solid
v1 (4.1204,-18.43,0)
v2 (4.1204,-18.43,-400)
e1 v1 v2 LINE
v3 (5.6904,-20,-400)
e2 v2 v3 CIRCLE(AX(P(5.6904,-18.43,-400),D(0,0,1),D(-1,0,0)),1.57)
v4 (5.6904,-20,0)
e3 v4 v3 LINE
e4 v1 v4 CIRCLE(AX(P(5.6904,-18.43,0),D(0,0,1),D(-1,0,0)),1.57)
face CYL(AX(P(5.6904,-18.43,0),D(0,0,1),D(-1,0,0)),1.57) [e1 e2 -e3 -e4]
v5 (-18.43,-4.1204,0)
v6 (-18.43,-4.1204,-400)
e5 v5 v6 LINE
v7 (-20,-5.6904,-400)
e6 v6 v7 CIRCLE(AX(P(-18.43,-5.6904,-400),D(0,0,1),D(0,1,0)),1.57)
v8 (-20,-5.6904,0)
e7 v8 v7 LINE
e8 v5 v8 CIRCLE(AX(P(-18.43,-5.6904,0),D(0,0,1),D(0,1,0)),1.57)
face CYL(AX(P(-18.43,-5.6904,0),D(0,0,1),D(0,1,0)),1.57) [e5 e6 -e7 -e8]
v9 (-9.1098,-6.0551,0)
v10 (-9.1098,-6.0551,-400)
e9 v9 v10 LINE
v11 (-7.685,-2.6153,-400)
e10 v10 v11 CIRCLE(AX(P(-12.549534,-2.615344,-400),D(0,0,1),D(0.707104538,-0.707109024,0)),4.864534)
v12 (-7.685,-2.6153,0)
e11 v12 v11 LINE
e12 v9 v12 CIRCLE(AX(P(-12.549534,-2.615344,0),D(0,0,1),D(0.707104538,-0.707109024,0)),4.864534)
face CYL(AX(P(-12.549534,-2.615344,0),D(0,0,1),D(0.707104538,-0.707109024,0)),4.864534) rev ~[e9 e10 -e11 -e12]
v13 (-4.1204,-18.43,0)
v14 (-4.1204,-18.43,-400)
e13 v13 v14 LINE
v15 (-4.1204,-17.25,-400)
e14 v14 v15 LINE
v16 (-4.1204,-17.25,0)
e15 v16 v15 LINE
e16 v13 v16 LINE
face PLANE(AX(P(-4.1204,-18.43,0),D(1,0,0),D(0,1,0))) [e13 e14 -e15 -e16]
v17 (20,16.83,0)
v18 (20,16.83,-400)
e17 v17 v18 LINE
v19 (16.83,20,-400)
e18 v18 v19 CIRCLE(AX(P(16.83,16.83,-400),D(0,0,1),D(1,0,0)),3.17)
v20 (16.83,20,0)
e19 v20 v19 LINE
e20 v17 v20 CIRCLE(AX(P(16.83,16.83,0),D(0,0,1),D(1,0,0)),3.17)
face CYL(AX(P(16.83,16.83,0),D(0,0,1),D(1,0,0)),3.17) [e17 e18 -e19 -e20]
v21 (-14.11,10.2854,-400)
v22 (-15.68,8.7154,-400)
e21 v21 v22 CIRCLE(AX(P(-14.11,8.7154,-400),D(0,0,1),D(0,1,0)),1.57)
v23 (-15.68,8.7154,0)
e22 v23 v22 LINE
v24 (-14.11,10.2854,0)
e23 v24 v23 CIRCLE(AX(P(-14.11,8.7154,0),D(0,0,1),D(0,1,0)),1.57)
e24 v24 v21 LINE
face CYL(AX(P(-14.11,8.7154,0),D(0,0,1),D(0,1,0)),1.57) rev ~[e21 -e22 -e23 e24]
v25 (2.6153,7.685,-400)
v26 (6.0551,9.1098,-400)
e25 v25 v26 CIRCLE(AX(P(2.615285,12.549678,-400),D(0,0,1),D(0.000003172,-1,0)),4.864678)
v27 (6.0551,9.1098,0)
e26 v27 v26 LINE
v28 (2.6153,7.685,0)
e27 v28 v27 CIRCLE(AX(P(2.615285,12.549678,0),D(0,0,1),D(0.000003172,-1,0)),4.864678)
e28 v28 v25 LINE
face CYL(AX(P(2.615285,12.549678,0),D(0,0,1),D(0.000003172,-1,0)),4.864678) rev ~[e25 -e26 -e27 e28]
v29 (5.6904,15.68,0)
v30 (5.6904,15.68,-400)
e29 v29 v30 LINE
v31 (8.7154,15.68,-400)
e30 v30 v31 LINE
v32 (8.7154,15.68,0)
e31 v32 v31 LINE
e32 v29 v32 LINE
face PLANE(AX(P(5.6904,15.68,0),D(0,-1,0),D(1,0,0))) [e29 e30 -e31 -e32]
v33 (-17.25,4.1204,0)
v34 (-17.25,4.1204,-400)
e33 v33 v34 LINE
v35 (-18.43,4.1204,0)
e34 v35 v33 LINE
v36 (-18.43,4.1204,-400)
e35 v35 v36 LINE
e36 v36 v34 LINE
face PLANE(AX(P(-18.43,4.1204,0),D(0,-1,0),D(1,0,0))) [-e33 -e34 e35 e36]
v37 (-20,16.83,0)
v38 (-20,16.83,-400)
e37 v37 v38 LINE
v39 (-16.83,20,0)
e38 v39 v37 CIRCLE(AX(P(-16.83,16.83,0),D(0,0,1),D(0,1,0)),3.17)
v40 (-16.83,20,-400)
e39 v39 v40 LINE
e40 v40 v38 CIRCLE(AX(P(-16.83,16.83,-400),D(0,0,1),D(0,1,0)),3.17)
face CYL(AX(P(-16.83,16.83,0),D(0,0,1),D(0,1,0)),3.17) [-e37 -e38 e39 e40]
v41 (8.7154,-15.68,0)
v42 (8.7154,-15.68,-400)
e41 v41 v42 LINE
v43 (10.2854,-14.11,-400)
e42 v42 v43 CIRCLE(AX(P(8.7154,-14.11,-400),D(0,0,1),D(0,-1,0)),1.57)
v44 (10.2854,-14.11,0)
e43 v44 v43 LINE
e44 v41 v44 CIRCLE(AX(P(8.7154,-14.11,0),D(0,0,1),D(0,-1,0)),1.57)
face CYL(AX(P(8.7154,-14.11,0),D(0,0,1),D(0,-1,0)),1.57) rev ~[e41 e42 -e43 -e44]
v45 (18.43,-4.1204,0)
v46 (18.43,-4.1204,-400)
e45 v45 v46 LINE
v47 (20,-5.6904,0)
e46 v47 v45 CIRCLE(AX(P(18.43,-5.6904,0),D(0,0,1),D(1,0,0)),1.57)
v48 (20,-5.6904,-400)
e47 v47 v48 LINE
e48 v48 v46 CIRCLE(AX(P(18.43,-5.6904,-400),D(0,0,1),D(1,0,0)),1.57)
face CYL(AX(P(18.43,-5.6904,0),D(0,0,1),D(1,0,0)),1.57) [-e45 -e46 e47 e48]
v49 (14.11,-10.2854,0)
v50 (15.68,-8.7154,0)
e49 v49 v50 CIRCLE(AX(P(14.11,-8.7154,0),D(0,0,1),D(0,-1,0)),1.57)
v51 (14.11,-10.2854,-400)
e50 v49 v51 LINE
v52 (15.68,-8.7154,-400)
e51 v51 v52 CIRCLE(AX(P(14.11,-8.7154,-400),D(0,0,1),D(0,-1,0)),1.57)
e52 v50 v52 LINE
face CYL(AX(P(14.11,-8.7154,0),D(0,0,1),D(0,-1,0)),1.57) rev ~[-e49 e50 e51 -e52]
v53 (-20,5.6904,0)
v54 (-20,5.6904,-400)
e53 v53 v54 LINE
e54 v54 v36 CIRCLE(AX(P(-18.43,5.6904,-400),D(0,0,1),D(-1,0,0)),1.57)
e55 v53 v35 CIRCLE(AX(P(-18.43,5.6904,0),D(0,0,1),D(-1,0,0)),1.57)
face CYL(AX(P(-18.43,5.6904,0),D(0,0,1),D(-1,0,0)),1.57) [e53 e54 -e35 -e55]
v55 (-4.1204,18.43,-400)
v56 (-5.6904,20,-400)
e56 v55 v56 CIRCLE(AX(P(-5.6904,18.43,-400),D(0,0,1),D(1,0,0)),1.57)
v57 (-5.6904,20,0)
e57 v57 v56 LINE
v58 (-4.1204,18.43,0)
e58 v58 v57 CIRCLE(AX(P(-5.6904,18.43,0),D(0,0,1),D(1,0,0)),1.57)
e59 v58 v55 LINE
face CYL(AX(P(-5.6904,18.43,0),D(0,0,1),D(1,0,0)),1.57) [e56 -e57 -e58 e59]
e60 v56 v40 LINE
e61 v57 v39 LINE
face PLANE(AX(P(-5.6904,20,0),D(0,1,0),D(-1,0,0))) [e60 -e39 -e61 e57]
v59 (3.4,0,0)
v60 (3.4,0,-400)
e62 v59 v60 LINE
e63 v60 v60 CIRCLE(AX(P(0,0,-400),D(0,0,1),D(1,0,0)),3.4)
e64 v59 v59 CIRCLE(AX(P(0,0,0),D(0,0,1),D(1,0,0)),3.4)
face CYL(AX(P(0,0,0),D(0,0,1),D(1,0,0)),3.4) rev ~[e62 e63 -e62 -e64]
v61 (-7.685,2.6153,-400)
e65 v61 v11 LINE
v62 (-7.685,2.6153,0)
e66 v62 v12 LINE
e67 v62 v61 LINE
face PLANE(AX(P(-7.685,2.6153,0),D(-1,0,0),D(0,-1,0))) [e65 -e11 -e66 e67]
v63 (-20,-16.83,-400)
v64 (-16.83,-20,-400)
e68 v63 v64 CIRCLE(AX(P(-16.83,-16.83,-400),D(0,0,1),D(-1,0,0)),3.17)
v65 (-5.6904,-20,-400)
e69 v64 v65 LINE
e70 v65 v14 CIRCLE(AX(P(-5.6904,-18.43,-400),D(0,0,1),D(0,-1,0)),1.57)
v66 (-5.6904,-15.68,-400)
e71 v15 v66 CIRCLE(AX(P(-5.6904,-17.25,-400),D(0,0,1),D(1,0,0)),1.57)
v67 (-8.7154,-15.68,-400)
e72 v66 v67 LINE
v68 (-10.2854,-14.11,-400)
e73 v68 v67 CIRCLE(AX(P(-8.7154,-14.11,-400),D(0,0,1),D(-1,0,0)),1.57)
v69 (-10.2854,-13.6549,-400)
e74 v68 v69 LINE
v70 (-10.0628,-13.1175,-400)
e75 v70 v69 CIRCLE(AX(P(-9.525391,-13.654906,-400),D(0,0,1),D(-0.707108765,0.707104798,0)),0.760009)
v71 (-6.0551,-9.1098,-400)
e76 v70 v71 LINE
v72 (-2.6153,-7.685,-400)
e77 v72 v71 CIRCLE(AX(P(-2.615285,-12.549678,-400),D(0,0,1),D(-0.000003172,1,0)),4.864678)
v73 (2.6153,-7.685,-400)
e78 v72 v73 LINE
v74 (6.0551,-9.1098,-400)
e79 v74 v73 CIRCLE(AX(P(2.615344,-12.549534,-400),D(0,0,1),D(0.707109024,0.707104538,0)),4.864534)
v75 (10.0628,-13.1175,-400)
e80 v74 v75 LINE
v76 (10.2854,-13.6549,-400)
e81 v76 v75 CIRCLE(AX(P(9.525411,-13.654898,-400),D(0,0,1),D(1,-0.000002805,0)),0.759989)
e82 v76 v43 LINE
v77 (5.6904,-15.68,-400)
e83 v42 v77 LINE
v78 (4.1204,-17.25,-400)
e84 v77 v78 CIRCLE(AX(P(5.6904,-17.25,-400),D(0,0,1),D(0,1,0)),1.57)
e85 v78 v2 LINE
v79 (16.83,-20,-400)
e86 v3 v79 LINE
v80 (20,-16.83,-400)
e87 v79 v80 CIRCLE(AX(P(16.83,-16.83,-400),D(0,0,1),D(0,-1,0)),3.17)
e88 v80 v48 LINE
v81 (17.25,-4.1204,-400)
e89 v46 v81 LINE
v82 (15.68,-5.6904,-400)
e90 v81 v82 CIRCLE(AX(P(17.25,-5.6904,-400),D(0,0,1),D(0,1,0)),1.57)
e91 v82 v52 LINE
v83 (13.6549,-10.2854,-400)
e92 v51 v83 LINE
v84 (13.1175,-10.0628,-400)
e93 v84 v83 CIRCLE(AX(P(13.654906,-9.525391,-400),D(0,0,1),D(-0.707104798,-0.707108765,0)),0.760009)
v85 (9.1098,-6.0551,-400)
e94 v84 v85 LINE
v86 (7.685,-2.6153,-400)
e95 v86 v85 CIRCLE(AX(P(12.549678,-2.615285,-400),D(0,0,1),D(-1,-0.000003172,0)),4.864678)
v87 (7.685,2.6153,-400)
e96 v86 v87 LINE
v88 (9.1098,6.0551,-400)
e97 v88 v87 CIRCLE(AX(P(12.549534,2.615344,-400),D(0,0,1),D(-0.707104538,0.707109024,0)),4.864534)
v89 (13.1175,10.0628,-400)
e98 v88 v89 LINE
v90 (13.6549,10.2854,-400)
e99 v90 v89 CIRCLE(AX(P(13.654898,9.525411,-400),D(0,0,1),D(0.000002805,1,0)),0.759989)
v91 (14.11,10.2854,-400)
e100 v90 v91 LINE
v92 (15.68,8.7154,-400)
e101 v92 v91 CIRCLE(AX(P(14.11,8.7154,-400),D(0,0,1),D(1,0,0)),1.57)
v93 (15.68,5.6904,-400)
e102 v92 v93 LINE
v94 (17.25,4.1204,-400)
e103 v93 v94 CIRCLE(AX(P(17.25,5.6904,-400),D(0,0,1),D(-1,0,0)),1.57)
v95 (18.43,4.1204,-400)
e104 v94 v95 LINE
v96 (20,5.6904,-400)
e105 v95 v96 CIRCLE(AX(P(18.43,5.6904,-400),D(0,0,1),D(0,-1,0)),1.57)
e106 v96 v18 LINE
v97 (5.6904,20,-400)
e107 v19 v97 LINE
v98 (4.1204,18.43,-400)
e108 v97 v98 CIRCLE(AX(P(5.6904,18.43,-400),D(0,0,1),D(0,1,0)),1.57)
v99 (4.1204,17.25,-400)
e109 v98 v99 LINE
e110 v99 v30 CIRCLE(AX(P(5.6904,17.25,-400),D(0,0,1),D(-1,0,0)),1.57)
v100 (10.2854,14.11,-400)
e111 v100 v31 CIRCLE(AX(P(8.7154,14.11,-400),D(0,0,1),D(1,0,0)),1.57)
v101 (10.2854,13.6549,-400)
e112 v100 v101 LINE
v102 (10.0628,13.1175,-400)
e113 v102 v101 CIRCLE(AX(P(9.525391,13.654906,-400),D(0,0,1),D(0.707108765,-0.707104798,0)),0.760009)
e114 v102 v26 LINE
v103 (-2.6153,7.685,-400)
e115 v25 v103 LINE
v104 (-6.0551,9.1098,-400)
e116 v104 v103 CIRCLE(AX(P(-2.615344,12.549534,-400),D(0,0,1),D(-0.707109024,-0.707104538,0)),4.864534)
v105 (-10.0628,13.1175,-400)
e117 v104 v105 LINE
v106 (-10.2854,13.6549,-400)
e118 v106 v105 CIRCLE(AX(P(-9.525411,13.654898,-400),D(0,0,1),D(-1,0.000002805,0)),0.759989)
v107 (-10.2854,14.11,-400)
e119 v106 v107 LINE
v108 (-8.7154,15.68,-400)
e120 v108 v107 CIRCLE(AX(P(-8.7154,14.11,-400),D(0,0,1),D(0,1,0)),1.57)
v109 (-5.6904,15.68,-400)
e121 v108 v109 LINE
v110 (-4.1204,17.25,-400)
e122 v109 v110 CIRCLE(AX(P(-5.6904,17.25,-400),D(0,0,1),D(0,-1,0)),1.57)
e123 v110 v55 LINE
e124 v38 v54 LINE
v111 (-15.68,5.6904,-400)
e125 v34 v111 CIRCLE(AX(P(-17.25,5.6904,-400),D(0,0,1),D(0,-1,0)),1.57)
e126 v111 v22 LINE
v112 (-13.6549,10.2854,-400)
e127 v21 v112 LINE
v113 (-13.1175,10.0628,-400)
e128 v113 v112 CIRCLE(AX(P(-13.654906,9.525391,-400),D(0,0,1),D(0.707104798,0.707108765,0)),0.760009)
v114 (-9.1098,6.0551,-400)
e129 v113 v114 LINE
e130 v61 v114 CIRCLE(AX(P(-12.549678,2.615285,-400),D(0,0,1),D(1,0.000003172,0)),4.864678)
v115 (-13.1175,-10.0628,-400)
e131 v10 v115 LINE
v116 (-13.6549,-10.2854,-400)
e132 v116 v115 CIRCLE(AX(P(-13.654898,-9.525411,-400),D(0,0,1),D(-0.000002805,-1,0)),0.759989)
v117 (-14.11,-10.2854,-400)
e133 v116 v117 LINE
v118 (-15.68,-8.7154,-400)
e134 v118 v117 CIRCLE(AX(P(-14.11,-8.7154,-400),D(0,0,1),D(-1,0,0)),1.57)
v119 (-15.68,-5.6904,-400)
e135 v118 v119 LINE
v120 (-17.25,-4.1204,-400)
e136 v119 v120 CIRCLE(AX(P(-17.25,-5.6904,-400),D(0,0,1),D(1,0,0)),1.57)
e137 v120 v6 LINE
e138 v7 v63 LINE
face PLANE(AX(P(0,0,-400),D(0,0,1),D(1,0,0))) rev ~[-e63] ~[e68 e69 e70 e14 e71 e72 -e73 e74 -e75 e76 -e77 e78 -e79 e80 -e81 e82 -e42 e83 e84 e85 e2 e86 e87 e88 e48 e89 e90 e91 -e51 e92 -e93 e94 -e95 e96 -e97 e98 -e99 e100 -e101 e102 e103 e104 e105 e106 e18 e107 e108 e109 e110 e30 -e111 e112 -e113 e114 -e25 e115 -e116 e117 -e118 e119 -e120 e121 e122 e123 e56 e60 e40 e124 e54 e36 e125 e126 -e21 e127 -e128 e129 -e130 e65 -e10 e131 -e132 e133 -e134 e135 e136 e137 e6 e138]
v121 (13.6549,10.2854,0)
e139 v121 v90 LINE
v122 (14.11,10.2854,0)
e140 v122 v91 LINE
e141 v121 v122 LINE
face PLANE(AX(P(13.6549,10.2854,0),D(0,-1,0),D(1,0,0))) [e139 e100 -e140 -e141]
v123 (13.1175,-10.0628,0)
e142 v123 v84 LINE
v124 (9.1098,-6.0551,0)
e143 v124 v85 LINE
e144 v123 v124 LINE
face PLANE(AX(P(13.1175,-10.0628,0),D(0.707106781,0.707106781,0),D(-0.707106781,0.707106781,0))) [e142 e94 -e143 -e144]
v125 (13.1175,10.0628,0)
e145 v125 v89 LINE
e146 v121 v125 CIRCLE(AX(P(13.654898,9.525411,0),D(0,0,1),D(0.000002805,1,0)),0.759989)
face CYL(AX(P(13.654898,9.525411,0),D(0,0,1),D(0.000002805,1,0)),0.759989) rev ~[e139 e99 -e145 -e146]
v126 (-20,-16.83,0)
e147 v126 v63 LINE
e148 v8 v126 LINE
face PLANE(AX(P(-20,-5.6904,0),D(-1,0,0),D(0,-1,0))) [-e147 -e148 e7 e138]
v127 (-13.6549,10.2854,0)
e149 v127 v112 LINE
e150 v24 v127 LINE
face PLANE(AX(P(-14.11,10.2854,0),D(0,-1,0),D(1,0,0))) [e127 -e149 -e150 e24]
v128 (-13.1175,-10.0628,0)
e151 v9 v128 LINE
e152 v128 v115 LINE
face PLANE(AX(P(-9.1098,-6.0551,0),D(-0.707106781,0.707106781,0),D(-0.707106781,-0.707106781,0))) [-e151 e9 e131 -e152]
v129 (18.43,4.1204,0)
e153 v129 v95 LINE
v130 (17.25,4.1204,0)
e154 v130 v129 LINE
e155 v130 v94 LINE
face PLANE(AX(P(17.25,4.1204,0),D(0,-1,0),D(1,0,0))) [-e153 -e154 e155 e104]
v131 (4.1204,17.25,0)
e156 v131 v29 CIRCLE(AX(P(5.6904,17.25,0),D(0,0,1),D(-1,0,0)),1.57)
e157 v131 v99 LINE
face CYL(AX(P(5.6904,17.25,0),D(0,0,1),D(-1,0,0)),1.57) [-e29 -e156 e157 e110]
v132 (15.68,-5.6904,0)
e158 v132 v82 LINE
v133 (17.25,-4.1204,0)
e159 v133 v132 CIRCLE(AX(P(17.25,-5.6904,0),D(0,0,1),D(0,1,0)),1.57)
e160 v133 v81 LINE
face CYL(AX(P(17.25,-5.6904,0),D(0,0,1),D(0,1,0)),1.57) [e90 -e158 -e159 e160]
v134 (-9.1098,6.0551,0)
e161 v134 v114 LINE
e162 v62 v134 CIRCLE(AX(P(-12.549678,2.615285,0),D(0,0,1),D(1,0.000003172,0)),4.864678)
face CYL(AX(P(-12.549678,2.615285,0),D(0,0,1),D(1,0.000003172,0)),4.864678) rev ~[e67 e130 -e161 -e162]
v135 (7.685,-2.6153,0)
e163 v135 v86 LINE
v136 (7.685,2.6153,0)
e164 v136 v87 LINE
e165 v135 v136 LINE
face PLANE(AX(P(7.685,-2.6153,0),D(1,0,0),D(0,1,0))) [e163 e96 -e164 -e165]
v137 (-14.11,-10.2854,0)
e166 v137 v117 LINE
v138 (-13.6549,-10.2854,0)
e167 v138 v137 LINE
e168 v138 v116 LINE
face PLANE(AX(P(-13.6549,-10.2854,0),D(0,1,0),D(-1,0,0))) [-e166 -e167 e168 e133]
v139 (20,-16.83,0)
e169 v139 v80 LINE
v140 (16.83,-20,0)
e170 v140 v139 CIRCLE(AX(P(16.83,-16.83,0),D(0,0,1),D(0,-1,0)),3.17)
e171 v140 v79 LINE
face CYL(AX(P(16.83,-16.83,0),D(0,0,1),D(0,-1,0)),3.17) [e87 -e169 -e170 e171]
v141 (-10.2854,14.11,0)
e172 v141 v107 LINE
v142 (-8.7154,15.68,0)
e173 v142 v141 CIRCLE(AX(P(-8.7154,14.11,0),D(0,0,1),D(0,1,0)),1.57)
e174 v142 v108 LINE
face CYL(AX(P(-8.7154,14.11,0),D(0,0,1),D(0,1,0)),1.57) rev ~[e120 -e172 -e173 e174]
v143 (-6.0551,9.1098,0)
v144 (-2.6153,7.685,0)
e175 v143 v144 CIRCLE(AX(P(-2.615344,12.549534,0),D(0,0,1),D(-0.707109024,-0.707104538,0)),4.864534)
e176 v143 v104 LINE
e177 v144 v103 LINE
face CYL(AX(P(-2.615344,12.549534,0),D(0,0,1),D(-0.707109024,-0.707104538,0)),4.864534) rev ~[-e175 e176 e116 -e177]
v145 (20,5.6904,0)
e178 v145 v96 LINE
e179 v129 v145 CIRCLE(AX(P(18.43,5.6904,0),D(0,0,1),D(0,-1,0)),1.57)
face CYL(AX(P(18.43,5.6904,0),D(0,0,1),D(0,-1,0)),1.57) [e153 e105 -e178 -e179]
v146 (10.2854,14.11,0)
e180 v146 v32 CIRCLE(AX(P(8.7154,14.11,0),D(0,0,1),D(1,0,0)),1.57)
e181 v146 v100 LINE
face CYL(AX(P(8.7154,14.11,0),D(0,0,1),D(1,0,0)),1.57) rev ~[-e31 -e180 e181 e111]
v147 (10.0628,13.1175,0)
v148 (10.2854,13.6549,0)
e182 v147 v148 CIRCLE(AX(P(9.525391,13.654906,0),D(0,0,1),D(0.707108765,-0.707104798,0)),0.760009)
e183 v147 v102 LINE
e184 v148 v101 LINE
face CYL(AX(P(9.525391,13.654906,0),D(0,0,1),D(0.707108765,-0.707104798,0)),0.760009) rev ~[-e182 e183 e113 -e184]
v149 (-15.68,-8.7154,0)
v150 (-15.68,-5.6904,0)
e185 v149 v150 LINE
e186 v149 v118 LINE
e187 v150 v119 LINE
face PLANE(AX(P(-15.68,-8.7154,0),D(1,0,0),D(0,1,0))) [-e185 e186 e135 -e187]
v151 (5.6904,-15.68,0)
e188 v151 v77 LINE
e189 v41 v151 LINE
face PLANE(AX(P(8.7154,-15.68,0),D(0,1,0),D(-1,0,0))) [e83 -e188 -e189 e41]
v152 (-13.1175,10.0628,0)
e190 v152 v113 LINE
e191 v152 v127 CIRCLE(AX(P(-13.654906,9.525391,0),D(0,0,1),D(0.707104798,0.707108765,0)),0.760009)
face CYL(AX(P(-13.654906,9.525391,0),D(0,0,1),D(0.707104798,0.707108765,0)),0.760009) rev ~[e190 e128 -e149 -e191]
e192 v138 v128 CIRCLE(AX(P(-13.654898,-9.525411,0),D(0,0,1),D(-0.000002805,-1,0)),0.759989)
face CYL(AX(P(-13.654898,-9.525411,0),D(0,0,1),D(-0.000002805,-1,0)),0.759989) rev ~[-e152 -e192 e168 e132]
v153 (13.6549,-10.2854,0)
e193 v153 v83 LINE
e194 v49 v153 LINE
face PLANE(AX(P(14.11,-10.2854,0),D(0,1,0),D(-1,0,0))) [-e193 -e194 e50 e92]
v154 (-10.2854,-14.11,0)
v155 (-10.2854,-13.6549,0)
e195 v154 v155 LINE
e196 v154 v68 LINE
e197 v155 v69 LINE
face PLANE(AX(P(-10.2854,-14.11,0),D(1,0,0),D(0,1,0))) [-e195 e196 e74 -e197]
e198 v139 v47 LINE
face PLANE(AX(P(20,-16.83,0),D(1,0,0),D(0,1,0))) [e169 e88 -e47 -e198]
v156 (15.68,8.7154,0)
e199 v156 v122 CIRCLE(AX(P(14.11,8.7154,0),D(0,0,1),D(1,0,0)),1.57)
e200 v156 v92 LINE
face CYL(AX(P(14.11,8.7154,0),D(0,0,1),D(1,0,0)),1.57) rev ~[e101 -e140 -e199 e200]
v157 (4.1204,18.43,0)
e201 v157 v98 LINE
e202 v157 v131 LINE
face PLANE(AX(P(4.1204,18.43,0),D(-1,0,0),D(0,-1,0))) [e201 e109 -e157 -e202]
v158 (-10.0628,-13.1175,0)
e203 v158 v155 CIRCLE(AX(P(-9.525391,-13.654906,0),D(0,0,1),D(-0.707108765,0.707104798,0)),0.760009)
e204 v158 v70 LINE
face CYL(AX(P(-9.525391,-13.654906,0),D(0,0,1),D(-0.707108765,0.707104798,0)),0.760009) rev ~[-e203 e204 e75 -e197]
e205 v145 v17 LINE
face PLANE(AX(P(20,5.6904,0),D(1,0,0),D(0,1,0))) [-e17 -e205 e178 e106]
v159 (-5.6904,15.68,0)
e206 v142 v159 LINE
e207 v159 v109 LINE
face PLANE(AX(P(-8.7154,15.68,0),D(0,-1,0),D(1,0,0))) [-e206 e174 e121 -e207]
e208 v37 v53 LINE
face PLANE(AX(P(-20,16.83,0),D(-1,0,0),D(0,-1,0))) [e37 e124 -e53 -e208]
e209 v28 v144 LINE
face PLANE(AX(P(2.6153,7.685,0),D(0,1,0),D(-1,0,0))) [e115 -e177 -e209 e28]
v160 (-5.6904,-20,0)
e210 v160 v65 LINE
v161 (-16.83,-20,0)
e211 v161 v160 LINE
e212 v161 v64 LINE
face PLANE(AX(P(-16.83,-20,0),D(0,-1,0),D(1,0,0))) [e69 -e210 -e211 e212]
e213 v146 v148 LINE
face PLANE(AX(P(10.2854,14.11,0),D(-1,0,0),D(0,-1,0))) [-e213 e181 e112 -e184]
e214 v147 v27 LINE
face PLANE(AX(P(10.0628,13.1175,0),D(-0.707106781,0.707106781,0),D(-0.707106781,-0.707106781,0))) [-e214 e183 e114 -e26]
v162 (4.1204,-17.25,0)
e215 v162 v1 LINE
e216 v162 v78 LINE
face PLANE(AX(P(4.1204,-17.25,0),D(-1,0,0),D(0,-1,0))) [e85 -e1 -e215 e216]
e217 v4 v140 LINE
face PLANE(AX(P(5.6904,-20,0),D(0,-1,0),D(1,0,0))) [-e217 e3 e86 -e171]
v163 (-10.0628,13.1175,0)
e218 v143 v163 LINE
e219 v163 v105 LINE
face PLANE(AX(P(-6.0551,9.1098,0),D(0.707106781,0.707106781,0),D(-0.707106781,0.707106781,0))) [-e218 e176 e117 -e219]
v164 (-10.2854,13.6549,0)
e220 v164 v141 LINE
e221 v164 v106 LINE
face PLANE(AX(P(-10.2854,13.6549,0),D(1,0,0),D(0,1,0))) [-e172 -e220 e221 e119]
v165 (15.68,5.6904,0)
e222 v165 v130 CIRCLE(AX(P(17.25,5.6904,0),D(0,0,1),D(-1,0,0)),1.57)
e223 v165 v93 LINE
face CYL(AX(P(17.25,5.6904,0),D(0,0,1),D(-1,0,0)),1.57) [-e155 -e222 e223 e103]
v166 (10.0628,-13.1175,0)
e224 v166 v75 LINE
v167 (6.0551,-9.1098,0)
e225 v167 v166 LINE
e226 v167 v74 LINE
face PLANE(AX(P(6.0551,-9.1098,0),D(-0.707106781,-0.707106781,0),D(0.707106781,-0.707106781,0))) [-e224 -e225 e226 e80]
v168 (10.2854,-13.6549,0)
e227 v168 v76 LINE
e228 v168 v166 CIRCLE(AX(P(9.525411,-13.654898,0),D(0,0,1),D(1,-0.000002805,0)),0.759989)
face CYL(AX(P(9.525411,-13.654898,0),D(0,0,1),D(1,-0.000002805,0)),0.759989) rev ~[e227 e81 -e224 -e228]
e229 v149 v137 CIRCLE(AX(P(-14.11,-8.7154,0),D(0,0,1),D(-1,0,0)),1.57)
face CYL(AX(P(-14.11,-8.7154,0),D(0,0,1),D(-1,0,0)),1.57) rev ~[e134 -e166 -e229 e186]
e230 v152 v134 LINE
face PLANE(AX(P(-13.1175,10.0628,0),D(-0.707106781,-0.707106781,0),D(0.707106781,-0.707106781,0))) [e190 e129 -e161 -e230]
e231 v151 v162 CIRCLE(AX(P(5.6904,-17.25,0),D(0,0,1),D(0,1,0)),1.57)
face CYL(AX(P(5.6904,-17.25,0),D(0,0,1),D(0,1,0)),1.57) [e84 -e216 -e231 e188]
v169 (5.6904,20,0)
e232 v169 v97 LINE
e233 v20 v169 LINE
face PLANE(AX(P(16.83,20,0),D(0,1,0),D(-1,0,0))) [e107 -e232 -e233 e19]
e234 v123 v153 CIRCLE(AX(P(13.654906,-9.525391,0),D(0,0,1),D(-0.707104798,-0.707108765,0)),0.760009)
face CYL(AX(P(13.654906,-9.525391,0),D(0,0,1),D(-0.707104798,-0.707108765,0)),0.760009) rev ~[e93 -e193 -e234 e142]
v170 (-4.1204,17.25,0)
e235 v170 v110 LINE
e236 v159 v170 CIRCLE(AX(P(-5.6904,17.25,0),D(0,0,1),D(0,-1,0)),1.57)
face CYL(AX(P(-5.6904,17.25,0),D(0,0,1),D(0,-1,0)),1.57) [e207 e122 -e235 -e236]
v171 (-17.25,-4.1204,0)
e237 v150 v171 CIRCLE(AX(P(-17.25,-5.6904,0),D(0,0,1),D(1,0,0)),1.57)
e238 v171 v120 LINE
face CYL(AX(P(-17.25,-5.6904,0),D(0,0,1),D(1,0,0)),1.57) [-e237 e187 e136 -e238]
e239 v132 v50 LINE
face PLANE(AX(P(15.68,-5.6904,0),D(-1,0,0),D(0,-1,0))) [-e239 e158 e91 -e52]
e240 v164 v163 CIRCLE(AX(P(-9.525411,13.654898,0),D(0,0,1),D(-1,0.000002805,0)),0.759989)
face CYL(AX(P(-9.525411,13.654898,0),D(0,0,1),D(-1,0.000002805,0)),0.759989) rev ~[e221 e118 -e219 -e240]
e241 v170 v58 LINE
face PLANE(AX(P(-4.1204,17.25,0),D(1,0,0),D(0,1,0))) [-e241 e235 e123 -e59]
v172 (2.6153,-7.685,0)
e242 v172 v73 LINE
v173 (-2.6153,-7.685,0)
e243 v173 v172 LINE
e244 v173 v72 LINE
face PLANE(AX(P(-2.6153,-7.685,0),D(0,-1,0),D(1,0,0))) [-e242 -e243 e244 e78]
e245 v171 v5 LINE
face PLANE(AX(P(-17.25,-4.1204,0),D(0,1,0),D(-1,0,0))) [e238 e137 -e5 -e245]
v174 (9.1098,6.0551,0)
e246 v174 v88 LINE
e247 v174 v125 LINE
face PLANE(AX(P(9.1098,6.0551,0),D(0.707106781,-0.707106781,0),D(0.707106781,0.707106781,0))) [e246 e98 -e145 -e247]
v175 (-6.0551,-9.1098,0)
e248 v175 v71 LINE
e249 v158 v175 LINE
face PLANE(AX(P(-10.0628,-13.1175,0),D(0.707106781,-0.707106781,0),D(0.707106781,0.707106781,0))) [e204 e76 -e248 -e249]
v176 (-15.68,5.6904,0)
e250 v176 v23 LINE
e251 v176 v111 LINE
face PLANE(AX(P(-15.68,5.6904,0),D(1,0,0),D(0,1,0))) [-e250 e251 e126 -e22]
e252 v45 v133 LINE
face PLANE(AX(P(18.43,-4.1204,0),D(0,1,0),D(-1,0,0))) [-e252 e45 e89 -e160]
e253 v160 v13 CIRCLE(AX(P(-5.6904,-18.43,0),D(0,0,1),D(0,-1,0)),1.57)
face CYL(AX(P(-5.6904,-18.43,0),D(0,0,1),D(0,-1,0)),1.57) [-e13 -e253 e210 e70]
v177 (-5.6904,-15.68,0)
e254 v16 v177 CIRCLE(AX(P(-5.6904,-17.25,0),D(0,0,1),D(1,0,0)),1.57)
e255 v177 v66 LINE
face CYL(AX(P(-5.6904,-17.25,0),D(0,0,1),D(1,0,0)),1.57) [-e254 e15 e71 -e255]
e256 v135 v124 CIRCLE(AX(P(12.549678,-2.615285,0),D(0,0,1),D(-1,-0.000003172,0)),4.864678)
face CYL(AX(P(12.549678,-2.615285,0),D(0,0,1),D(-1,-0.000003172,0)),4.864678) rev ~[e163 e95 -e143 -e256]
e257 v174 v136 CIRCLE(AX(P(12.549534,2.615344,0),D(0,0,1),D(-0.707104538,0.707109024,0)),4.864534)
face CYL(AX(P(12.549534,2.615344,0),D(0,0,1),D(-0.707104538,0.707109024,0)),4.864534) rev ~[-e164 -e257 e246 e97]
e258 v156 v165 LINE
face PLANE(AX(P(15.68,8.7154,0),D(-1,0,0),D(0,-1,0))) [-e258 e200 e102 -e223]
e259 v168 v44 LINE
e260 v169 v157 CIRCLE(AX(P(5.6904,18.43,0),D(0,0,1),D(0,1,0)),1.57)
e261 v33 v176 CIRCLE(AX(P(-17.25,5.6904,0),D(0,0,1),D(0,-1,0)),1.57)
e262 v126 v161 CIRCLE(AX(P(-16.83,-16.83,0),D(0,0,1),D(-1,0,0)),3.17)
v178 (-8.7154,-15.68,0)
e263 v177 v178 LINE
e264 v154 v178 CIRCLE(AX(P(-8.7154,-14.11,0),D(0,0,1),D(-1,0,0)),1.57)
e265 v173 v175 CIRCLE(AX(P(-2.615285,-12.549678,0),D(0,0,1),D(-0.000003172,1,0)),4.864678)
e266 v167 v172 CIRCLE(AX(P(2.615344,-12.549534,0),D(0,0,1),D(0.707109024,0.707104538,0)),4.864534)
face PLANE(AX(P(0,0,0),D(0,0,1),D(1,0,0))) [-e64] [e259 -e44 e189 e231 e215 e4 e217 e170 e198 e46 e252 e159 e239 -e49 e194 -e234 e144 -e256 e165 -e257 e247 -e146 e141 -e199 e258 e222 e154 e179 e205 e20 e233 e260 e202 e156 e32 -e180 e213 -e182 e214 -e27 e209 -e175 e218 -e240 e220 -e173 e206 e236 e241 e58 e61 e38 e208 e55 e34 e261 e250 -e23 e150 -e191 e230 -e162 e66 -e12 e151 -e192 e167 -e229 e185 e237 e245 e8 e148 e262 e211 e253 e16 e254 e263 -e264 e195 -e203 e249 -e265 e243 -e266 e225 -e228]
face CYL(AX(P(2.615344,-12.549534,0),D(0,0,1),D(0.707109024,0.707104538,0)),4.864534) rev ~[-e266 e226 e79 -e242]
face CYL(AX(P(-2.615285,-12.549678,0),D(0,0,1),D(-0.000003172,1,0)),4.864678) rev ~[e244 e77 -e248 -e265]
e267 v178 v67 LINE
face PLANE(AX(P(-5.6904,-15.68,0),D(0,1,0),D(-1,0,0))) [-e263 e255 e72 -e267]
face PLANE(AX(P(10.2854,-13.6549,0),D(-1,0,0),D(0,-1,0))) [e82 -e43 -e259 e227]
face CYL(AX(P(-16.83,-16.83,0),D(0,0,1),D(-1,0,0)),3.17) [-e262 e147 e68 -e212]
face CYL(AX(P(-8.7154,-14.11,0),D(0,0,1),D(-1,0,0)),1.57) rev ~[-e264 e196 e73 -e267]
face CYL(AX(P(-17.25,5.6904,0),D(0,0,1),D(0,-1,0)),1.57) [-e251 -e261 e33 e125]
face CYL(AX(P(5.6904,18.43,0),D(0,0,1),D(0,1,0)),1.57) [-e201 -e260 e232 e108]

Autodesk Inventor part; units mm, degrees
sketch "Sketch_1" plane through (0, 0, 0) normal (0, 0, 1) x (1, 0, 0)
  line L0 (-20, 16.83) -> (-20, 5.6904)
  arc A0 (-20, 5.6904) -> (-18.43, 4.1204) centre (-18.43, 5.6904) ccw
  line L1 (-18.43, 4.1204) -> (-17.25, 4.1204)
  arc A1 (-17.25, 4.1204) -> (-15.68, 5.6904) centre (-17.25, 5.6904) ccw
  line L2 (-15.68, 5.6904) -> (-15.68, 8.7154)
  arc A2 (-14.11, 10.2854) -> (-15.68, 8.7154) centre (-14.11, 8.7154) ccw
  line L3 (-14.11, 10.2854) -> (-13.6549, 10.2854)
  arc A3 (-13.1175, 10.0628) -> (-13.6549, 10.2854) centre (-13.6549, 9.5254) ccw
  line L4 (-13.1175, 10.0628) -> (-9.1098, 6.0551)
  arc A4 (-7.685, 2.6153) -> (-9.1098, 6.0551) centre (-12.5496, 2.6153) ccw
  line L5 (-7.685, 2.6153) -> (-7.685, -2.6153)
  arc A5 (-9.1098, -6.0551) -> (-7.685, -2.6153) centre (-12.5496, -2.6153) ccw
  line L6 (-9.1098, -6.0551) -> (-13.1175, -10.0628)
  arc A6 (-13.6549, -10.2854) -> (-13.1175, -10.0628) centre (-13.6549, -9.5254) ccw
  line L7 (-13.6549, -10.2854) -> (-14.11, -10.2854)
  arc A7 (-15.68, -8.7154) -> (-14.11, -10.2854) centre (-14.11, -8.7154) ccw
  line L8 (-15.68, -8.7154) -> (-15.68, -5.6904)
  arc A8 (-15.68, -5.6904) -> (-17.25, -4.1204) centre (-17.25, -5.6904) ccw
  line L9 (-17.25, -4.1204) -> (-18.43, -4.1204)
  arc A9 (-18.43, -4.1204) -> (-20, -5.6904) centre (-18.43, -5.6904) ccw
  line L10 (-20, -5.6904) -> (-20, -16.83)
  arc A10 (-20, -16.83) -> (-16.83, -20) centre (-16.83, -16.83) ccw
  line L11 (-16.83, -20) -> (-5.6904, -20)
  arc A11 (-5.6904, -20) -> (-4.1204, -18.43) centre (-5.6904, -18.43) ccw
  line L12 (-4.1204, -18.43) -> (-4.1204, -17.25)
  arc A12 (-4.1204, -17.25) -> (-5.6904, -15.68) centre (-5.6904, -17.25) ccw
  line L13 (-5.6904, -15.68) -> (-8.7154, -15.68)
  arc A13 (-10.2854, -14.11) -> (-8.7154, -15.68) centre (-8.7154, -14.11) ccw
  line L14 (-10.2854, -14.11) -> (-10.2854, -13.6549)
  arc A14 (-10.0628, -13.1175) -> (-10.2854, -13.6549) centre (-9.5254, -13.6549) ccw
  line L15 (-10.0628, -13.1175) -> (-6.0551, -9.1098)
  arc A15 (-2.6153, -7.685) -> (-6.0551, -9.1098) centre (-2.6153, -12.5496) ccw
  line L16 (-2.6153, -7.685) -> (2.6153, -7.685)
  arc A16 (6.0551, -9.1098) -> (2.6153, -7.685) centre (2.6153, -12.5496) ccw
  line L17 (6.0551, -9.1098) -> (10.0628, -13.1175)
  arc A17 (10.2854, -13.6549) -> (10.0628, -13.1175) centre (9.5254, -13.6549) ccw
  line L18 (10.2854, -13.6549) -> (10.2854, -14.11)
  arc A18 (8.7154, -15.68) -> (10.2854, -14.11) centre (8.7154, -14.11) ccw
  line L19 (8.7154, -15.68) -> (5.6904, -15.68)
  arc A19 (5.6904, -15.68) -> (4.1204, -17.25) centre (5.6904, -17.25) ccw
  line L20 (4.1204, -17.25) -> (4.1204, -18.43)
  arc A20 (4.1204, -18.43) -> (5.6904, -20) centre (5.6904, -18.43) ccw
  line L21 (5.6904, -20) -> (16.83, -20)
  arc A21 (16.83, -20) -> (20, -16.83) centre (16.83, -16.83) ccw
  line L22 (20, -16.83) -> (20, -5.6904)
  arc A22 (20, -5.6904) -> (18.43, -4.1204) centre (18.43, -5.6904) ccw
  line L23 (18.43, -4.1204) -> (17.25, -4.1204)
  arc A23 (17.25, -4.1204) -> (15.68, -5.6904) centre (17.25, -5.6904) ccw
  line L24 (15.68, -5.6904) -> (15.68, -8.7154)
  arc A24 (14.11, -10.2854) -> (15.68, -8.7154) centre (14.11, -8.7154) ccw
  line L25 (14.11, -10.2854) -> (13.6549, -10.2854)
  arc A25 (13.1175, -10.0628) -> (13.6549, -10.2854) centre (13.6549, -9.5254) ccw
  line L26 (13.1175, -10.0628) -> (9.1098, -6.0551)
  arc A26 (7.685, -2.6153) -> (9.1098, -6.0551) centre (12.5496, -2.6153) ccw
  line L27 (7.685, -2.6153) -> (7.685, 2.6153)
  arc A27 (9.1098, 6.0551) -> (7.685, 2.6153) centre (12.5496, 2.6153) ccw
  line L28 (9.1098, 6.0551) -> (13.1175, 10.0628)
  arc A28 (13.6549, 10.2854) -> (13.1175, 10.0628) centre (13.6549, 9.5254) ccw
  line L29 (13.6549, 10.2854) -> (14.11, 10.2854)
  arc A29 (15.68, 8.7154) -> (14.11, 10.2854) centre (14.11, 8.7154) ccw
  line L30 (15.68, 8.7154) -> (15.68, 5.6904)
  arc A30 (15.68, 5.6904) -> (17.25, 4.1204) centre (17.25, 5.6904) ccw
  line L31 (17.25, 4.1204) -> (18.43, 4.1204)
  arc A31 (18.43, 4.1204) -> (20, 5.6904) centre (18.43, 5.6904) ccw
  line L32 (20, 5.6904) -> (20, 16.83)
  arc A32 (20, 16.83) -> (16.83, 20) centre (16.83, 16.83) ccw
  line L33 (16.83, 20) -> (5.6904, 20)
  arc A33 (5.6904, 20) -> (4.1204, 18.43) centre (5.6904, 18.43) ccw
  line L34 (4.1204, 18.43) -> (4.1204, 17.25)
  arc A34 (4.1204, 17.25) -> (5.6904, 15.68) centre (5.6904, 17.25) ccw
  line L35 (5.6904, 15.68) -> (8.7154, 15.68)
  arc A35 (10.2854, 14.11) -> (8.7154, 15.68) centre (8.7154, 14.11) ccw
  line L36 (10.2854, 14.11) -> (10.2854, 13.6549)
  arc A36 (10.0628, 13.1175) -> (10.2854, 13.6549) centre (9.5254, 13.6549) ccw
  line L37 (10.0628, 13.1175) -> (6.0551, 9.1098)
  arc A37 (2.6153, 7.685) -> (6.0551, 9.1098) centre (2.6153, 12.5496) ccw
  line L38 (2.6153, 7.685) -> (-2.6153, 7.685)
  arc A38 (-6.0551, 9.1098) -> (-2.6153, 7.685) centre (-2.6153, 12.5496) ccw
  line L39 (-6.0551, 9.1098) -> (-10.0628, 13.1175)
  arc A39 (-10.2854, 13.6549) -> (-10.0628, 13.1175) centre (-9.5254, 13.6549) ccw
  line L40 (-10.2854, 13.6549) -> (-10.2854, 14.11)
  arc A40 (-8.7154, 15.68) -> (-10.2854, 14.11) centre (-8.7154, 14.11) ccw
  line L41 (-8.7154, 15.68) -> (-5.6904, 15.68)
  arc A41 (-5.6904, 15.68) -> (-4.1204, 17.25) centre (-5.6904, 17.25) ccw
  line L42 (-4.1204, 17.25) -> (-4.1204, 18.43)
  arc A42 (-4.1204, 18.43) -> (-5.6904, 20) centre (-5.6904, 18.43) ccw
  line L43 (-5.6904, 20) -> (-16.83, 20)
  arc A43 (-16.83, 20) -> (-20, 16.83) centre (-16.83, 16.83) ccw
  circle A44 centre (0, 0) radius 3.4
extrude "Extrusion1" add sketch "Sketch_1" against normal blind 400
ref_plane "to_parts_XY" through (0, 0, -200) normal (0, 0, 1) x (1, 0, 0)
ref_plane "to_parts_YZ" through (0, 0, -200) normal (1, 0, 0) x (0, 1, 0)
ref_plane "to_parts_ZX" through (0, 0, -200) normal (0, 1, 0) x (0, 0, 1)
properties part number "40-4040-400-CL"
